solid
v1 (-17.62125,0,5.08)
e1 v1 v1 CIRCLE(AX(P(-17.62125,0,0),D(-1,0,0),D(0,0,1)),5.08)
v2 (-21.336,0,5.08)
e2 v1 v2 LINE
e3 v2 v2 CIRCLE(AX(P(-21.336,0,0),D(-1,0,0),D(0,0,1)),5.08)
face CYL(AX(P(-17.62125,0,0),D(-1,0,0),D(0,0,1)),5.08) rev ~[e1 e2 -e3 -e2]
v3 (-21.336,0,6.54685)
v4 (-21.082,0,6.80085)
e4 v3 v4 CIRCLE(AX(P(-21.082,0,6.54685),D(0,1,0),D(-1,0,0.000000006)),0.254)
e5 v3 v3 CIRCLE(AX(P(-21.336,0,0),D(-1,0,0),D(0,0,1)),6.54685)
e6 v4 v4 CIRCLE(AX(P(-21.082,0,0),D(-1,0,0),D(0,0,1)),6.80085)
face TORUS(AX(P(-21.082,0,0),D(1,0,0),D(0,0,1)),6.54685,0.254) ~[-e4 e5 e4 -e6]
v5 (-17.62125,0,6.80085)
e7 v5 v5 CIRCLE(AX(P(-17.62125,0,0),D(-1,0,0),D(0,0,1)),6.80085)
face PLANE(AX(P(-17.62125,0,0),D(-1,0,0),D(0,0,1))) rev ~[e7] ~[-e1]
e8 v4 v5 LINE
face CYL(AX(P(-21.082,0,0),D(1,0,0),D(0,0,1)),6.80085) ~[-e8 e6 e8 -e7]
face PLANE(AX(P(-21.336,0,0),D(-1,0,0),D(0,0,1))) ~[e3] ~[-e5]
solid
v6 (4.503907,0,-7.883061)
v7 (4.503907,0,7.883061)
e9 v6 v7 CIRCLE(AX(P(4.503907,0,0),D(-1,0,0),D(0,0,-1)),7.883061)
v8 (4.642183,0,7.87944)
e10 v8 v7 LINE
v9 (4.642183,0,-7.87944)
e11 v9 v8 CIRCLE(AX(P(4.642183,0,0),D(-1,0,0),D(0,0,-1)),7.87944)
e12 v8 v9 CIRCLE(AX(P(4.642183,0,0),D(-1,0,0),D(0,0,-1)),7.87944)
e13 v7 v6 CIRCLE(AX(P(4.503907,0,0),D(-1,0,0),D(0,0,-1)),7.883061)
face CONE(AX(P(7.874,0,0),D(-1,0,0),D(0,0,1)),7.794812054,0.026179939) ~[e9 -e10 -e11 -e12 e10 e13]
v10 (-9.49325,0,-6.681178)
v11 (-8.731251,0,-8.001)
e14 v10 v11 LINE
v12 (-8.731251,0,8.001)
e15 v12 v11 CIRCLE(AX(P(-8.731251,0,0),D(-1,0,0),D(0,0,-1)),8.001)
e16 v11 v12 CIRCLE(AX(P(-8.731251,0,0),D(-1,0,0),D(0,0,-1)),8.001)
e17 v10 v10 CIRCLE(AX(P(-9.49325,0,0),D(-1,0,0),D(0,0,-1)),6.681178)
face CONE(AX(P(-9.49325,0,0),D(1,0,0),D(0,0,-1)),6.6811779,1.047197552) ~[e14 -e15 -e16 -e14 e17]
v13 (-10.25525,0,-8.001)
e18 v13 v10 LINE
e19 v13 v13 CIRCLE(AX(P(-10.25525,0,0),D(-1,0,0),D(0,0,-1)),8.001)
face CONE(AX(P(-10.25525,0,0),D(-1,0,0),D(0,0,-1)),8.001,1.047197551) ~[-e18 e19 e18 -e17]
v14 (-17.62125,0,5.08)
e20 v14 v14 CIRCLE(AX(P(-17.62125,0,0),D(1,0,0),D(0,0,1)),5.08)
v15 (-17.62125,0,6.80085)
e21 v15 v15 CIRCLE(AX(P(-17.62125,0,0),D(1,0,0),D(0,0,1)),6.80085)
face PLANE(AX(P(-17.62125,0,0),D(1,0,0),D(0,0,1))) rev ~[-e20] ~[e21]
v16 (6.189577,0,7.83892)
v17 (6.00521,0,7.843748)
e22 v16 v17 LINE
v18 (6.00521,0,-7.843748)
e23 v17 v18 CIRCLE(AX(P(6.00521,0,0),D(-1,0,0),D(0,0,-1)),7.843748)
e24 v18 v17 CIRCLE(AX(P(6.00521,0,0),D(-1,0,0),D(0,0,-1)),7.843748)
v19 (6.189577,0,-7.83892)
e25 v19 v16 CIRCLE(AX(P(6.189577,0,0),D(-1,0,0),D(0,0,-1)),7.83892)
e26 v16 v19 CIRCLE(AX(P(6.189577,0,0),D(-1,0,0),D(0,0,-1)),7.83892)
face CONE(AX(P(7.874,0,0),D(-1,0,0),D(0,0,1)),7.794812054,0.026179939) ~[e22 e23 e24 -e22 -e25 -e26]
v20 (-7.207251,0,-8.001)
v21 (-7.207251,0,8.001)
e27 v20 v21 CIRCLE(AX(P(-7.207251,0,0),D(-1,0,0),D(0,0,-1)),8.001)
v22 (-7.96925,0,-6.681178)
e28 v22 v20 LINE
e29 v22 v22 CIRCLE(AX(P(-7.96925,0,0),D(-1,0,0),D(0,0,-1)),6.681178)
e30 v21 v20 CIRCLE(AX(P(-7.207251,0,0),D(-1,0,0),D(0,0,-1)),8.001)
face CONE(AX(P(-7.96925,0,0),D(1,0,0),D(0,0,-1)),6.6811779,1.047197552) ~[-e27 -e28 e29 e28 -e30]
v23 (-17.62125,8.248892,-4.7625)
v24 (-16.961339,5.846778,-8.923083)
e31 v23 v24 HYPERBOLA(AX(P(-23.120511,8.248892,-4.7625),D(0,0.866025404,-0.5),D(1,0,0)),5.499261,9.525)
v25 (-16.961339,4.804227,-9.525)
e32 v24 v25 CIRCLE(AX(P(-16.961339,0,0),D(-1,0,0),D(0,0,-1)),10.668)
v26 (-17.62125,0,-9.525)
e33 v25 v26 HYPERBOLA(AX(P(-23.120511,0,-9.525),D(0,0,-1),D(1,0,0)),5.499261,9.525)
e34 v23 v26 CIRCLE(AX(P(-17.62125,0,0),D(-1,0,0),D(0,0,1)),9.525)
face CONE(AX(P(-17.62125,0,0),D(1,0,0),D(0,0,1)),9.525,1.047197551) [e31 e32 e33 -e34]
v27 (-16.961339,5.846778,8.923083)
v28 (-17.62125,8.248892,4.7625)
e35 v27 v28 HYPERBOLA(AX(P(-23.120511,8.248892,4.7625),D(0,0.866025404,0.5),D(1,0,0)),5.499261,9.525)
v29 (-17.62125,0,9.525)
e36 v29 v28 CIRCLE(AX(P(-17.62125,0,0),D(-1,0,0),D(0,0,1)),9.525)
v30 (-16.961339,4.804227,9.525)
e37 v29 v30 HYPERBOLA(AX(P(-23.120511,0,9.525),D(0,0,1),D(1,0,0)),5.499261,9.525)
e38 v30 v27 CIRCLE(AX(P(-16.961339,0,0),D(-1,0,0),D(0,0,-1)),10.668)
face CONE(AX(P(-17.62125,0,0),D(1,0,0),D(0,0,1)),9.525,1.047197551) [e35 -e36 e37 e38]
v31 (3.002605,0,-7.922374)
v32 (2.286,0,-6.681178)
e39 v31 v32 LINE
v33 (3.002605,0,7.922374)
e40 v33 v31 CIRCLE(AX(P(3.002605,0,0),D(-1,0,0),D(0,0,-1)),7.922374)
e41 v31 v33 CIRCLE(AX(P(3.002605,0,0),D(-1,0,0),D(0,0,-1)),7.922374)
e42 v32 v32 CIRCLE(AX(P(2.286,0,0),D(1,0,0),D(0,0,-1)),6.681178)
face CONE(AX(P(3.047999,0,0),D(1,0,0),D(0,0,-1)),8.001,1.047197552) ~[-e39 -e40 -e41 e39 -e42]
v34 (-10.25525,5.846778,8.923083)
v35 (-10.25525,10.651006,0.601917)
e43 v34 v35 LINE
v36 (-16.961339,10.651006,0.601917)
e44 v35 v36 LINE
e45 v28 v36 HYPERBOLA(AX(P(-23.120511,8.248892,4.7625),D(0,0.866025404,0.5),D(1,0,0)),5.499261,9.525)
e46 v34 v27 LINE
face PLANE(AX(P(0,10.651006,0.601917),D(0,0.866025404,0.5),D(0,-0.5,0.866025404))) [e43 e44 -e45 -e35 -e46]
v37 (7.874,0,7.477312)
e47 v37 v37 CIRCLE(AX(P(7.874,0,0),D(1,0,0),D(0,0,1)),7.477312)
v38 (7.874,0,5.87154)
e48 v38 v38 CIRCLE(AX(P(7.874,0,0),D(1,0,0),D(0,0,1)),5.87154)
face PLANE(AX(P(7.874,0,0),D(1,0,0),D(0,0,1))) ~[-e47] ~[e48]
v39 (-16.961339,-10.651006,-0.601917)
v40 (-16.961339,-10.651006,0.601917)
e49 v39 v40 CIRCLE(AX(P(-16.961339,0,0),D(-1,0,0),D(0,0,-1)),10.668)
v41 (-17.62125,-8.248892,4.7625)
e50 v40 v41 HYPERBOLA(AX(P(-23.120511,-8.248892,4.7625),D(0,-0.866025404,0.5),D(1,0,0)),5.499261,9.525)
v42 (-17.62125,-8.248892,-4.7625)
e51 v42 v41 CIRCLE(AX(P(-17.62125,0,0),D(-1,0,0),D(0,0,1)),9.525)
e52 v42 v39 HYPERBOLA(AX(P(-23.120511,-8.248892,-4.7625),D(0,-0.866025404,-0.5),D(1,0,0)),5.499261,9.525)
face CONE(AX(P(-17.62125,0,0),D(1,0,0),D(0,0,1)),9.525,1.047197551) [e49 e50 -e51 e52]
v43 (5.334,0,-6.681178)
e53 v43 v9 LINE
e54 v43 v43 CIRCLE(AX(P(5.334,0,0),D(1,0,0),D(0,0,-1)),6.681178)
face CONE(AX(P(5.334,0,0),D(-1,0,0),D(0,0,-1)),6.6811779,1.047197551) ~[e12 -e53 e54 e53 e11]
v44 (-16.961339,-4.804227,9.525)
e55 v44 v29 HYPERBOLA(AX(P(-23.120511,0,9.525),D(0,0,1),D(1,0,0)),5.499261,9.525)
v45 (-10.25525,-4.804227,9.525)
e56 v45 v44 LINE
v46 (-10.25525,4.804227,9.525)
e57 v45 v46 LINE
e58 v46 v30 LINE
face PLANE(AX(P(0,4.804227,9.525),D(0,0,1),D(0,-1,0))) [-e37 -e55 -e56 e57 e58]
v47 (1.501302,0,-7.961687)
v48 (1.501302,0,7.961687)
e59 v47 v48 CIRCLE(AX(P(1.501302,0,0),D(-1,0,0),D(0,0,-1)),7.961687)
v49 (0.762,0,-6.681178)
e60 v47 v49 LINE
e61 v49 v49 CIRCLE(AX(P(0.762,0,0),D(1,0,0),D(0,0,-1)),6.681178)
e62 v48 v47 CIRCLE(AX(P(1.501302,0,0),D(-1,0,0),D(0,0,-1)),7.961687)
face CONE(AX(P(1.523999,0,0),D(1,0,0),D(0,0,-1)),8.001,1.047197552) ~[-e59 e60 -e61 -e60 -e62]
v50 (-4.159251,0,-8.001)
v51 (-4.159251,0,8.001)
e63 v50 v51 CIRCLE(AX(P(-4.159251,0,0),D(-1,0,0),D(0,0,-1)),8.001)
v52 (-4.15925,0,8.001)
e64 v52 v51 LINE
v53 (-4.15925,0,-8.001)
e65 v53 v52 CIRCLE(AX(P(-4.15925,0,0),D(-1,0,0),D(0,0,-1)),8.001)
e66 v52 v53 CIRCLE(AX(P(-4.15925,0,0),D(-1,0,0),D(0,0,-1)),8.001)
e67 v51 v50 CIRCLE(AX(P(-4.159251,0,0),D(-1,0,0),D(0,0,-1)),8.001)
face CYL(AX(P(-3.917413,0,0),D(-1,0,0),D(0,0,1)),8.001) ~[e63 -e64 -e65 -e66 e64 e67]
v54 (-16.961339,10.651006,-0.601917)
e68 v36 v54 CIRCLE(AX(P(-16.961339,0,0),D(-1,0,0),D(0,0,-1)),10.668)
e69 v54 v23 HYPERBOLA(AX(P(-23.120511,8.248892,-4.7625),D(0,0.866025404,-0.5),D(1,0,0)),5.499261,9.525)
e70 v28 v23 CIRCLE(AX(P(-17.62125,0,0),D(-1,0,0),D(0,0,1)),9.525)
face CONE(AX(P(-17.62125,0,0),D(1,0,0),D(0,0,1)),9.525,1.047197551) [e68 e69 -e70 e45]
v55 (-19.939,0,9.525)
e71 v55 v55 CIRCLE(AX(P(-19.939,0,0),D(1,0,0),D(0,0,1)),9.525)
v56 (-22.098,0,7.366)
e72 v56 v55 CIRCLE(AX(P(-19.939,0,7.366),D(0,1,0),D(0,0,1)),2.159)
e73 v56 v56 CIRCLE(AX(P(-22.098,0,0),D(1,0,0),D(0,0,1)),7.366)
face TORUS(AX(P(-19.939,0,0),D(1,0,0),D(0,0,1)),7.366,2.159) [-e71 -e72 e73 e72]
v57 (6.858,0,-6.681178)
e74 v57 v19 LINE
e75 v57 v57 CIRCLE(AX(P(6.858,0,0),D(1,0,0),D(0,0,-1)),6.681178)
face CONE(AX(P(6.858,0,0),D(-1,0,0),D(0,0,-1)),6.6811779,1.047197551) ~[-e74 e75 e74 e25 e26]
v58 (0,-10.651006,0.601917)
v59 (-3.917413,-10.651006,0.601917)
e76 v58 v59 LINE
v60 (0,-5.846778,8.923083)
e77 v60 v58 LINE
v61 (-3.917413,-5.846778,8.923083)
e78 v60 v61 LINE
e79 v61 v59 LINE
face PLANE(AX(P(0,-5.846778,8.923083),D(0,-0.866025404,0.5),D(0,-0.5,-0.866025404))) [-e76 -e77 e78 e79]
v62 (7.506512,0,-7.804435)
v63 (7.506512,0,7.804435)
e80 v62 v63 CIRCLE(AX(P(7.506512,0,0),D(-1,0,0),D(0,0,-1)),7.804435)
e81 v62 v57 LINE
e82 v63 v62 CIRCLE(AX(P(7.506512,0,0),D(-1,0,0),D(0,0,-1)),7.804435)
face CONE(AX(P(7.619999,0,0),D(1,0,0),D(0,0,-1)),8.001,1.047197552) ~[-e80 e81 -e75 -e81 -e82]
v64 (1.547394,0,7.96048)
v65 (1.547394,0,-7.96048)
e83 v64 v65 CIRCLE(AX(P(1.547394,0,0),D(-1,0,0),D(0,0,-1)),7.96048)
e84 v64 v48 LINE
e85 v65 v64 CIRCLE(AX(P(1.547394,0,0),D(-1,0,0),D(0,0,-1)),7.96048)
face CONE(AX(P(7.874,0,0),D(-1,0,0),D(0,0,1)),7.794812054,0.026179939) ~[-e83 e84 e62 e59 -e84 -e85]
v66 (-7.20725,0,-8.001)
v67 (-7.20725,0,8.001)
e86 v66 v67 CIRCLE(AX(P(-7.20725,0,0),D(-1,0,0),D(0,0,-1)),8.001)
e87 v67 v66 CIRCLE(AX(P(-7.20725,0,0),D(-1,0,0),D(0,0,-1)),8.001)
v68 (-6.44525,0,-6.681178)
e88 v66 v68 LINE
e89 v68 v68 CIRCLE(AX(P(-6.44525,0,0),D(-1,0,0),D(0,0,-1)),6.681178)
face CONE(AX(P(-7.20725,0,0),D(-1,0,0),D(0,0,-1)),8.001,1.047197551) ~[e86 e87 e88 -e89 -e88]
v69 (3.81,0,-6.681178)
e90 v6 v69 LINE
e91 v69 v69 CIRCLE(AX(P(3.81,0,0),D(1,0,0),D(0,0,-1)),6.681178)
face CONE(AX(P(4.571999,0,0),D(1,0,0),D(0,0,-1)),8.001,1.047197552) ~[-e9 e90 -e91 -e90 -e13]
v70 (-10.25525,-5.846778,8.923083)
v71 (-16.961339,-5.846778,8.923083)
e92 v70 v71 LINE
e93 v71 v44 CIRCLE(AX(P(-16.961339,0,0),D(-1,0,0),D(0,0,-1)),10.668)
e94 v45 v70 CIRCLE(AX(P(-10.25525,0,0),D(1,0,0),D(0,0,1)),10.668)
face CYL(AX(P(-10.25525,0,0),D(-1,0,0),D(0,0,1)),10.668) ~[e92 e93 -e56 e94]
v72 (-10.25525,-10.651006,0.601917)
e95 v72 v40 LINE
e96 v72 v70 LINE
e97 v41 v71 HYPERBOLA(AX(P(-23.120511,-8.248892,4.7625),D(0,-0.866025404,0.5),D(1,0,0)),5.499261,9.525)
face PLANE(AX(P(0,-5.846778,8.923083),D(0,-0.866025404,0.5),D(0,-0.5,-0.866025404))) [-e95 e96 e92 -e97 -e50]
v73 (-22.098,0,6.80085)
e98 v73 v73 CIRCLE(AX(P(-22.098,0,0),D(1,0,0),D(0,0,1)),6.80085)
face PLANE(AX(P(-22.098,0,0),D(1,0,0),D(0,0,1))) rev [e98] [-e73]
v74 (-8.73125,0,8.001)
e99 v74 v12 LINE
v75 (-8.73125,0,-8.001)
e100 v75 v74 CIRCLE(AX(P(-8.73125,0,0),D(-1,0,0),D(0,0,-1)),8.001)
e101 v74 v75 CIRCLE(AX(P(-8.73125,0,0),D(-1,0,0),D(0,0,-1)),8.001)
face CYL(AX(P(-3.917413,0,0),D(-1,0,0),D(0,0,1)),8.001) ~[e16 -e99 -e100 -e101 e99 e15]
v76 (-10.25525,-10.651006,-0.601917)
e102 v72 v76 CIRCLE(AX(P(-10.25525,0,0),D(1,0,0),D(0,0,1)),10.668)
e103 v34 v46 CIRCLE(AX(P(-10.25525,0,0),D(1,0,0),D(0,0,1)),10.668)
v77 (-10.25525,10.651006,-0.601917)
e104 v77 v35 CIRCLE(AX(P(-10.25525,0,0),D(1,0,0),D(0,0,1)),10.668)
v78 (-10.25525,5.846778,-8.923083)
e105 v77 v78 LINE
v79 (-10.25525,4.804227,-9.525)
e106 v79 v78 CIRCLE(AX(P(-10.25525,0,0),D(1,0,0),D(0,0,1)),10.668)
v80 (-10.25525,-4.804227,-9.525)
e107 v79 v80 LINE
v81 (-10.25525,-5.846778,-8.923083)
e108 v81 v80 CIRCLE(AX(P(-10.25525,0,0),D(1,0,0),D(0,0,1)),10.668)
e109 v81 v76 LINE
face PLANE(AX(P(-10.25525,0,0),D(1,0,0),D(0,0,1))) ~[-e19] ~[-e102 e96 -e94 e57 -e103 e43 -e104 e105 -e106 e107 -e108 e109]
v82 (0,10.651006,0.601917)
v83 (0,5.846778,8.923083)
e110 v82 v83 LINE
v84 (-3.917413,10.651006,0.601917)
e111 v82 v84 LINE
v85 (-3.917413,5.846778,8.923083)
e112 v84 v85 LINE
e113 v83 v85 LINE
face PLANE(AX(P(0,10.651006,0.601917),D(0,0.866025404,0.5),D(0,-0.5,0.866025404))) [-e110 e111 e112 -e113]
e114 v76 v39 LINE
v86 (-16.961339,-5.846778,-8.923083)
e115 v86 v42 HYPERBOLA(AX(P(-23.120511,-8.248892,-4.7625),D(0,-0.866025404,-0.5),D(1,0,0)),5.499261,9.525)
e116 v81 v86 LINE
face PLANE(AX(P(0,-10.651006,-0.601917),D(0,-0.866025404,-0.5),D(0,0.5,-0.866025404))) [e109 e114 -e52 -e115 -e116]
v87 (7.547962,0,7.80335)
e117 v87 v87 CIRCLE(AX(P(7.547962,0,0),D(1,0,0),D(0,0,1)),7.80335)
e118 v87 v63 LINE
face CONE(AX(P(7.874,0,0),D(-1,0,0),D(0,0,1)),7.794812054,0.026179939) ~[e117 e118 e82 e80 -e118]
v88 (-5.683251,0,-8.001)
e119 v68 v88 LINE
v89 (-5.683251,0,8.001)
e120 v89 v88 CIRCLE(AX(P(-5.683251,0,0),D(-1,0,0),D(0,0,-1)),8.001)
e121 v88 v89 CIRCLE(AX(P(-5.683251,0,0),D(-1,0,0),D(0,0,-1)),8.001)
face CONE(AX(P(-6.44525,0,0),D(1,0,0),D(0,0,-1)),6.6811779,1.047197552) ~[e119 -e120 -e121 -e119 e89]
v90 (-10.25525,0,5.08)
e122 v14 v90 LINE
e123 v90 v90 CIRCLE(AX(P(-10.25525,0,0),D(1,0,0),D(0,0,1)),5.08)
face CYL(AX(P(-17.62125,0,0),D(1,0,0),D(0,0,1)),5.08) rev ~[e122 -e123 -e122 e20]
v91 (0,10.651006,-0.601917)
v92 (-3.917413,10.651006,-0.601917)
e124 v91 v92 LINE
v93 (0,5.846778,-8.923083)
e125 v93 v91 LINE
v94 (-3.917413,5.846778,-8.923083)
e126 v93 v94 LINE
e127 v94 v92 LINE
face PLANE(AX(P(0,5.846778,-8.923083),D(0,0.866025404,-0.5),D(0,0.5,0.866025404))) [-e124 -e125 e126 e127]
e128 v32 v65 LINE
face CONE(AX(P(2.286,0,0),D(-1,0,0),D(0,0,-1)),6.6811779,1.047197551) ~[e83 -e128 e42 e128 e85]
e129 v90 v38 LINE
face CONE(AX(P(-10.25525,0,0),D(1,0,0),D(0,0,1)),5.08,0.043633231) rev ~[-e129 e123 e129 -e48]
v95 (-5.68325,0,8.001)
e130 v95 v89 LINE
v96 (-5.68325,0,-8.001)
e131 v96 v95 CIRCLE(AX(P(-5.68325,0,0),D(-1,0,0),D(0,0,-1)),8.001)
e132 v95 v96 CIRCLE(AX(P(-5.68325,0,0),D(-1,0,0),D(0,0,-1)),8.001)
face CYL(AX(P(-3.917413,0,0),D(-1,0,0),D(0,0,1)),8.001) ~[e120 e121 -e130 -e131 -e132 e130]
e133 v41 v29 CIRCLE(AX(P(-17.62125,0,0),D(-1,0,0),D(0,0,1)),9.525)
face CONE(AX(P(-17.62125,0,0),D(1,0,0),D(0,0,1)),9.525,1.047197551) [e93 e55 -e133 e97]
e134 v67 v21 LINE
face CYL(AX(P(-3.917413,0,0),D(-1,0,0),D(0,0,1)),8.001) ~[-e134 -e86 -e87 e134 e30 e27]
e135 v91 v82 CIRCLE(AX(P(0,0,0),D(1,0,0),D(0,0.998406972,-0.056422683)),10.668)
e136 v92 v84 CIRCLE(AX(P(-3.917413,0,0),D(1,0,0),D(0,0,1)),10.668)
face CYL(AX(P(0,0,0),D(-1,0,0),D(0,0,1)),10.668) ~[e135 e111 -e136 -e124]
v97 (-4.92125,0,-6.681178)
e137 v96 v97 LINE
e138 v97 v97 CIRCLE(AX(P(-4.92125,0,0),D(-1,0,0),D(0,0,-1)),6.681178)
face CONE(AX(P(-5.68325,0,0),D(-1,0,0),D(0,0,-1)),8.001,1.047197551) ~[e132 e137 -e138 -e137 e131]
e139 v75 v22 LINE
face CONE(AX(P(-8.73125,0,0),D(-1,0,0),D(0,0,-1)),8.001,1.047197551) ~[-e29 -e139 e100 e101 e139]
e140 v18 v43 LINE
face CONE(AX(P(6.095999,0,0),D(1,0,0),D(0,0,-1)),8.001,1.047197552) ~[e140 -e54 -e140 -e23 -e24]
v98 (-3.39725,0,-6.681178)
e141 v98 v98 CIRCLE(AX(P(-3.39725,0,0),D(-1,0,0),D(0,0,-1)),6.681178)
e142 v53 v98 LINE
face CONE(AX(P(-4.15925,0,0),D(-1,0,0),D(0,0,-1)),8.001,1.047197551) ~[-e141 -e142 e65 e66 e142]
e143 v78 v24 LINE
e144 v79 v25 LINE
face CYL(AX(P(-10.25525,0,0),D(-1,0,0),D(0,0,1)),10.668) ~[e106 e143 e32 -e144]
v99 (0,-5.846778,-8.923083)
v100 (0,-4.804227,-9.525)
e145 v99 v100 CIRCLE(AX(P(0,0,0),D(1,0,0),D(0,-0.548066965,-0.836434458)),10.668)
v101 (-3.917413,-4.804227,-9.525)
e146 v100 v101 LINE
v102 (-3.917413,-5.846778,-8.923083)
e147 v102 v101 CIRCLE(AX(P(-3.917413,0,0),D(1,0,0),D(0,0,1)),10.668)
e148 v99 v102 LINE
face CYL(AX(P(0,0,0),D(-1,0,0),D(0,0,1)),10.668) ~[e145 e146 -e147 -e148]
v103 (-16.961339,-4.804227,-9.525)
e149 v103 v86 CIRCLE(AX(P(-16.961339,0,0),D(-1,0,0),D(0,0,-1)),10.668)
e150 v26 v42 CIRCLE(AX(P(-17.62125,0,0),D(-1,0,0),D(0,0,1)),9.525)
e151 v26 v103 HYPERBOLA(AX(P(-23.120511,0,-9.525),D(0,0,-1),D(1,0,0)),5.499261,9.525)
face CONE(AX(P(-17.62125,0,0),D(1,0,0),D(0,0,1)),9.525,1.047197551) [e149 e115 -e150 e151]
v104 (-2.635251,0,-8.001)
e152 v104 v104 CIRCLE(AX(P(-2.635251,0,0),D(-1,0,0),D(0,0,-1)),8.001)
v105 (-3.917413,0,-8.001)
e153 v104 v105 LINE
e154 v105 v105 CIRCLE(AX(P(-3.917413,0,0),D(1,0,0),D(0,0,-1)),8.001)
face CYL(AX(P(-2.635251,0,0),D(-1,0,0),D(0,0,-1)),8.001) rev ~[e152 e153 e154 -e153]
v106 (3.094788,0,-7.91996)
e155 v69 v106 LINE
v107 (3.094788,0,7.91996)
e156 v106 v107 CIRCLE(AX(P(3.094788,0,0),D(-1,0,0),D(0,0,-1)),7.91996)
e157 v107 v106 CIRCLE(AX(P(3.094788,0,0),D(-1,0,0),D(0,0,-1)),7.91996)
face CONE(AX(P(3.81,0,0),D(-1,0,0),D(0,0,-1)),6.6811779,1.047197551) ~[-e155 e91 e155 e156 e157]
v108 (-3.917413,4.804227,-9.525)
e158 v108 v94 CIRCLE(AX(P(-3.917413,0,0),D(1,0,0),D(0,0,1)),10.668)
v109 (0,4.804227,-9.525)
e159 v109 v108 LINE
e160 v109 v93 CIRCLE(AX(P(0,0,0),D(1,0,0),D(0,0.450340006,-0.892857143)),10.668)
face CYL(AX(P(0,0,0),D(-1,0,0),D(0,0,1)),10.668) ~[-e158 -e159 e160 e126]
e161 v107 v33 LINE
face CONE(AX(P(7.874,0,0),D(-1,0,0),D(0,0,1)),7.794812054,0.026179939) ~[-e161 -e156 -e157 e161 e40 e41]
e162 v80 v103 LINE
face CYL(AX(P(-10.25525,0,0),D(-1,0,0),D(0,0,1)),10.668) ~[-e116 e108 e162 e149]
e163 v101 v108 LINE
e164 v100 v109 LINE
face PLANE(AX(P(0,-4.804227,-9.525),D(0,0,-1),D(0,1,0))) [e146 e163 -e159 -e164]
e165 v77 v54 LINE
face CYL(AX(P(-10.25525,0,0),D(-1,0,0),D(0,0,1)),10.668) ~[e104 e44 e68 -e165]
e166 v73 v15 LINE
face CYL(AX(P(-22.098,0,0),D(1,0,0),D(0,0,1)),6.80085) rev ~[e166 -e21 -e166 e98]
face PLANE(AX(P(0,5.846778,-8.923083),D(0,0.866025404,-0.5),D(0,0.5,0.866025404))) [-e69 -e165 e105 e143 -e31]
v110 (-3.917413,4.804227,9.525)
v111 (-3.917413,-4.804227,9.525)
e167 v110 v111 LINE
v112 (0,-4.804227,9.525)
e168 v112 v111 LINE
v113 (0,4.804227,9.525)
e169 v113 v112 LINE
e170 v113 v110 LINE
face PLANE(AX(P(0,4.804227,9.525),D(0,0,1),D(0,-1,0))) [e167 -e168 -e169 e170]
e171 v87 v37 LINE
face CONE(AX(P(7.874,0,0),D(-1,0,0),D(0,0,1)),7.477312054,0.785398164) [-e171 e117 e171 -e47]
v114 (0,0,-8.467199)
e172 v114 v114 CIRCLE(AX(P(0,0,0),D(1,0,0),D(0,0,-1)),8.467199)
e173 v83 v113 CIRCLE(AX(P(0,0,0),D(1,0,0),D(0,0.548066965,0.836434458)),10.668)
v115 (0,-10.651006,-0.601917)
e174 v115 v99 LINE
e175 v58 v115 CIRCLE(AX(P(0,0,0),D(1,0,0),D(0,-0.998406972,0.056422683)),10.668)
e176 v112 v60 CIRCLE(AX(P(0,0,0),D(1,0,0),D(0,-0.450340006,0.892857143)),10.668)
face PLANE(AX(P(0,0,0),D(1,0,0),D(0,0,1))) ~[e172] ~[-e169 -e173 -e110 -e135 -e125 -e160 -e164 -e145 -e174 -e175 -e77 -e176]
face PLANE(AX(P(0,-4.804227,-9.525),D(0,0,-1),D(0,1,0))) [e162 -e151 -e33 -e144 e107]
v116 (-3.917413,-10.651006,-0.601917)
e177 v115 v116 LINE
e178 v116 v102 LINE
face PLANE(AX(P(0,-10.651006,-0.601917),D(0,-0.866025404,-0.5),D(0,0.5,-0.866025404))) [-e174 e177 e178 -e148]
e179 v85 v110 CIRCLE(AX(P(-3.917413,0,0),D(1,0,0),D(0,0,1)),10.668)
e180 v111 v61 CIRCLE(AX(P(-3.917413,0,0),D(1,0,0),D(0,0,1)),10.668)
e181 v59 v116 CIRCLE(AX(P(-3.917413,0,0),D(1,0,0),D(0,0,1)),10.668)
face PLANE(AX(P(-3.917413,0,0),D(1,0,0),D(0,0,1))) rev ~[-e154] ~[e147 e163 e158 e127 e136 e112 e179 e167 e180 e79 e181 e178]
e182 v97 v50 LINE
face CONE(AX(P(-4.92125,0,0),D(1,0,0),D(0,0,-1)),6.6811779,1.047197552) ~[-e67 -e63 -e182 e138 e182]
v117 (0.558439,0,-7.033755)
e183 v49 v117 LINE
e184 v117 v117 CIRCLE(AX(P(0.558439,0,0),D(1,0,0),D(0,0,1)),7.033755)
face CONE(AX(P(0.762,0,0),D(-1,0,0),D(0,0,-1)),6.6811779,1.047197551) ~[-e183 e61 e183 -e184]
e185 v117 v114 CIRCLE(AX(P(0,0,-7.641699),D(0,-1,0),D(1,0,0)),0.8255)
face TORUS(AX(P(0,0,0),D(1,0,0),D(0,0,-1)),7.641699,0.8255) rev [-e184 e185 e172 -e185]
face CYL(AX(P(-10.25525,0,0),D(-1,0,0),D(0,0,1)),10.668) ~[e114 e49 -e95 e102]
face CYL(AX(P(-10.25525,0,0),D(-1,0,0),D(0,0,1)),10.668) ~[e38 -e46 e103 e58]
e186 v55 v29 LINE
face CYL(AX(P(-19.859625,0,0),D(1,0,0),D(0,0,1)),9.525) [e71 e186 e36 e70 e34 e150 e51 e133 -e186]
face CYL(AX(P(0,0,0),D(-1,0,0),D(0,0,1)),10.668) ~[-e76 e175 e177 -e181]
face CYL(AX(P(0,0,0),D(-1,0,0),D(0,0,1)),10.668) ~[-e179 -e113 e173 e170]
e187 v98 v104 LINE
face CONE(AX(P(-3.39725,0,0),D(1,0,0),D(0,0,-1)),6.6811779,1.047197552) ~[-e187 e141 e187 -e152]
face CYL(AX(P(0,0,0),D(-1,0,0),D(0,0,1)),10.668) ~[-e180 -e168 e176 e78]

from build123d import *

# Parameters (mm, degrees)
SKETCH2_OUTSIDE_W  = 31.842
SKETCH2_OUTSIDE_H  = 31.842
CUT_EXTRUDE1_DEPTH = 17.62125
CHAMFER1_SIZE      = 0.326149358
CHAMFER1_SIZE2     = 0.3175
SKETCH3_OUTSIDE_W  = 121.118
SKETCH3_OUTSIDE_H  = 123.404
SKETCH3_OUTSIDE_R  = 9.525
CUT_EXTRUDE2_DEPTH = 26.49525
CUT_EXTRUDE2_DRAFT = -60
SKETCH14_W         = 4.47675
SKETCH14_H         = 1.524
FILLET1_R          = 2.159
LPATTERN1_COUNT    = 5
LPATTERN1_PITCH    = 1.524
LPATTERN2_COUNT    = 6
LPATTERN2_PITCH    = 1.524
SKETCH15_R         = 0.8255


with BuildPart() as part:
    # Sketch1 → Revolve1 (revolve)
    with BuildSketch(Plane.XY, mode=Mode.PRIVATE) as revolve1_sk:
        Polygon((-10.25525, 8.001), (-10.25525, 10.668), (-17.62125, 10.668), (-17.62125, 8.001), (-22.098, 8.001), (-22.098, 6.80085), (-17.62125, 6.80085), (-17.62125, 5.08), (-10.25525, 5.08), (7.874, 5.871540149), (7.874, 7.794812054), (0, 8.001), (0, 10.668), (-3.917412935, 10.668), (-3.917412935, 8.001), align=None)
    revolve(revolve1_sk.sketch.rotate(Axis((-18.386021217, 0, 0), (1, 0, 0)), 90), axis=Axis((-18.386021217, 0, 0), (1, 0, 0)))  # turned: the seam where the file's is

    # Sketch2 outside → Cut-Extrude1 (cut)
    with BuildSketch(Plane(origin=(0, 0, 0), x_dir=(0, 0, -1), z_dir=(1, 0, 0))):
        Rectangle(SKETCH2_OUTSIDE_W, SKETCH2_OUTSIDE_H)
        with BuildLine():
            Line((9.525, -4.804227201), (9.525, 4.804227201))
            ThreePointArc((9.525, 4.804227201), (9.238759008, 5.334), (8.923082802, 5.84677837))
            Line((8.923082802, 5.84677837), (0.601917198, 10.651005572))
            ThreePointArc((0.601917198, 10.651005572), (0, 10.668), (-0.601917198, 10.651005572))
            Line((-0.601917198, 10.651005572), (-8.923082802, 5.84677837))
            ThreePointArc((-8.923082802, 5.84677837), (-9.238759008, 5.334), (-9.525, 4.804227201))
            Line((-9.525, 4.804227201), (-9.525, -4.804227201))
            ThreePointArc((-9.525, -4.804227201), (-9.238759008, -5.334), (-8.923082802, -5.84677837))
            Line((-8.923082802, -5.84677837), (-0.601917198, -10.651005572))
            ThreePointArc((-0.601917198, -10.651005572), (0, -10.668), (0.601917198, -10.651005572))
            Line((0.601917198, -10.651005572), (8.923082802, -5.84677837))
            ThreePointArc((8.923082802, -5.84677837), (9.238759008, -5.334), (9.525, -4.804227201))
        make_face(mode=Mode.SUBTRACT)
    extrude(amount=-CUT_EXTRUDE1_DEPTH, mode=Mode.SUBTRACT)

    # Chamfer1
    chamfer1_edges = [part.edges().sort_by_distance(p)[0] for p in [
        (7.874, 0, -7.794812054),
    ]]
    chamfer1_side = [part.faces().sort_by_distance(p)[0] for p in [
        (3.937, 0, -7.897906027),
    ]]
    chamfer(chamfer1_edges, length=CHAMFER1_SIZE, length2=CHAMFER1_SIZE2, reference=chamfer1_side[0])


with BuildPart() as cut_extrude2_tool:
    # Sketch3 outside → Cut-Extrude2 (with draft: the straight prism first)
    with BuildSketch(Plane.ZY.offset(17.62125)):
        Rectangle(SKETCH3_OUTSIDE_W, SKETCH3_OUTSIDE_H)
        Circle(SKETCH3_OUTSIDE_R, mode=Mode.SUBTRACT)
    extrude(amount=-CUT_EXTRUDE2_DEPTH)
    # Cut-Extrude2: the draft: its side faces are tilted about the plane it starts from
    cut_extrude2_sides = [cut_extrude2_tool.faces().sort_by_distance(p)[0] for p in [
        (-4.373625, -61.702, 0),
        (-4.373625, 0, 60.559),
        (-4.373625, 61.702, 0),
        (-4.373625, 0, -60.559),
        (-4.373625, 0, -9.525),
    ]]
    draft(cut_extrude2_sides, Plane.ZY.offset(17.62125), CUT_EXTRUDE2_DRAFT)


with BuildPart() as part_1:
    add(part.part)

    # Cut-Extrude2: cut by cut_extrude2_tool
    add(cut_extrude2_tool.part, mode=Mode.SUBTRACT)

    # Sketch14 → Revolve4 (revolve)
    with BuildSketch(Plane.XY, mode=Mode.PRIVATE) as revolve4_sk:
        with Locations((-19.859625, 8.763)):
            Rectangle(SKETCH14_W, SKETCH14_H)
    revolve(revolve4_sk.sketch.rotate(Axis((-18.386021217, 0, 0), (1, 0, 0)), 90), axis=Axis((-18.386021217, 0, 0), (1, 0, 0)))  # turned: the seam where the file's is

    # Fillet1
    fillet1_edges = [part_1.edges().sort_by_distance(p)[0] for p in [
        (-22.098, 0, -9.525),
    ]]
    fillet(fillet1_edges, radius=FILLET1_R)

    # Sketch10 → Cut-Revolve1 (revolve, cut)
    with BuildSketch(Plane.XY, mode=Mode.PRIVATE) as cut_revolve1_sk:
        Polygon((-10.25525, 8.001), (-9.493250355, 6.6811779), (-8.731250711, 8.001), align=None)
    cut_revolve1 = revolve(cut_revolve1_sk.sketch.rotate(Axis((15.58962545, 0, 0), (-1, 0, 0)), 90), axis=Axis((15.58962545, 0, 0), (-1, 0, 0)), mode=Mode.SUBTRACT)  # turned: the seam where the file's is

    # LPattern1: Cut-Revolve1 ×5
    with Locations(*[(i * LPATTERN1_PITCH, 0, 0) for i in range(1, LPATTERN1_COUNT)]):
        add(cut_revolve1, mode=Mode.SUBTRACT)

    # Sketch13 → Cut-Revolve2 (revolve, cut)
    with BuildSketch(Plane.XY, mode=Mode.PRIVATE) as cut_revolve2_sk:
        Polygon((0, 8.001), (1.523999289, 8.001), (0.761999645, 6.6811779), align=None)
    cut_revolve2 = revolve(cut_revolve2_sk.sketch.rotate(Axis((-18.386021217, 0, 0), (1, 0, 0)), 270), axis=Axis((-18.386021217, 0, 0), (1, 0, 0)), mode=Mode.SUBTRACT)  # turned: the seam where the file's is

    # LPattern2: Cut-Revolve2 ×6
    with Locations(*[(i * LPATTERN2_PITCH, 0, 0) for i in range(1, LPATTERN2_COUNT)]):
        add(cut_revolve2, mode=Mode.SUBTRACT)

    # Sketch15 → Cut-Revolve3 (revolve, cut)
    with BuildSketch(Plane.XY, mode=Mode.PRIVATE) as cut_revolve3_sk:
        with Locations((0, -7.641698712)):
            Circle(SKETCH15_R)
    revolve(cut_revolve3_sk.sketch.rotate(Axis((1.524, 0, 0), (-1, 0, 0)), 270), axis=Axis((1.524, 0, 0), (-1, 0, 0)), mode=Mode.SUBTRACT)  # turned: the seam where the file's is


with BuildPart() as body_2:
    # Sketch9 → Revolve3 (revolve)
    with BuildSketch(Plane.XY, mode=Mode.PRIVATE) as revolve3_sk:
        with BuildLine():
            Line((-21.336, 5.08), (-21.336, 6.54685))
            ThreePointArc((-21.336, 6.54685), (-21.261605122, 6.726455122), (-21.082, 6.80085))
            Line((-21.082, 6.80085), (-17.62125, 6.80085))
            Line((-17.62125, 6.80085), (-17.62125, 5.08))
            Line((-17.62125, 5.08), (-21.336, 5.08))
        make_face()
    revolve(revolve3_sk.sketch.rotate(Axis((8.695207459, 0, 0), (-1, 0, 0)), 270), axis=Axis((8.695207459, 0, 0), (-1, 0, 0)))  # turned: the seam where the file's is


solid = Compound([part_1.part, body_2.part])
